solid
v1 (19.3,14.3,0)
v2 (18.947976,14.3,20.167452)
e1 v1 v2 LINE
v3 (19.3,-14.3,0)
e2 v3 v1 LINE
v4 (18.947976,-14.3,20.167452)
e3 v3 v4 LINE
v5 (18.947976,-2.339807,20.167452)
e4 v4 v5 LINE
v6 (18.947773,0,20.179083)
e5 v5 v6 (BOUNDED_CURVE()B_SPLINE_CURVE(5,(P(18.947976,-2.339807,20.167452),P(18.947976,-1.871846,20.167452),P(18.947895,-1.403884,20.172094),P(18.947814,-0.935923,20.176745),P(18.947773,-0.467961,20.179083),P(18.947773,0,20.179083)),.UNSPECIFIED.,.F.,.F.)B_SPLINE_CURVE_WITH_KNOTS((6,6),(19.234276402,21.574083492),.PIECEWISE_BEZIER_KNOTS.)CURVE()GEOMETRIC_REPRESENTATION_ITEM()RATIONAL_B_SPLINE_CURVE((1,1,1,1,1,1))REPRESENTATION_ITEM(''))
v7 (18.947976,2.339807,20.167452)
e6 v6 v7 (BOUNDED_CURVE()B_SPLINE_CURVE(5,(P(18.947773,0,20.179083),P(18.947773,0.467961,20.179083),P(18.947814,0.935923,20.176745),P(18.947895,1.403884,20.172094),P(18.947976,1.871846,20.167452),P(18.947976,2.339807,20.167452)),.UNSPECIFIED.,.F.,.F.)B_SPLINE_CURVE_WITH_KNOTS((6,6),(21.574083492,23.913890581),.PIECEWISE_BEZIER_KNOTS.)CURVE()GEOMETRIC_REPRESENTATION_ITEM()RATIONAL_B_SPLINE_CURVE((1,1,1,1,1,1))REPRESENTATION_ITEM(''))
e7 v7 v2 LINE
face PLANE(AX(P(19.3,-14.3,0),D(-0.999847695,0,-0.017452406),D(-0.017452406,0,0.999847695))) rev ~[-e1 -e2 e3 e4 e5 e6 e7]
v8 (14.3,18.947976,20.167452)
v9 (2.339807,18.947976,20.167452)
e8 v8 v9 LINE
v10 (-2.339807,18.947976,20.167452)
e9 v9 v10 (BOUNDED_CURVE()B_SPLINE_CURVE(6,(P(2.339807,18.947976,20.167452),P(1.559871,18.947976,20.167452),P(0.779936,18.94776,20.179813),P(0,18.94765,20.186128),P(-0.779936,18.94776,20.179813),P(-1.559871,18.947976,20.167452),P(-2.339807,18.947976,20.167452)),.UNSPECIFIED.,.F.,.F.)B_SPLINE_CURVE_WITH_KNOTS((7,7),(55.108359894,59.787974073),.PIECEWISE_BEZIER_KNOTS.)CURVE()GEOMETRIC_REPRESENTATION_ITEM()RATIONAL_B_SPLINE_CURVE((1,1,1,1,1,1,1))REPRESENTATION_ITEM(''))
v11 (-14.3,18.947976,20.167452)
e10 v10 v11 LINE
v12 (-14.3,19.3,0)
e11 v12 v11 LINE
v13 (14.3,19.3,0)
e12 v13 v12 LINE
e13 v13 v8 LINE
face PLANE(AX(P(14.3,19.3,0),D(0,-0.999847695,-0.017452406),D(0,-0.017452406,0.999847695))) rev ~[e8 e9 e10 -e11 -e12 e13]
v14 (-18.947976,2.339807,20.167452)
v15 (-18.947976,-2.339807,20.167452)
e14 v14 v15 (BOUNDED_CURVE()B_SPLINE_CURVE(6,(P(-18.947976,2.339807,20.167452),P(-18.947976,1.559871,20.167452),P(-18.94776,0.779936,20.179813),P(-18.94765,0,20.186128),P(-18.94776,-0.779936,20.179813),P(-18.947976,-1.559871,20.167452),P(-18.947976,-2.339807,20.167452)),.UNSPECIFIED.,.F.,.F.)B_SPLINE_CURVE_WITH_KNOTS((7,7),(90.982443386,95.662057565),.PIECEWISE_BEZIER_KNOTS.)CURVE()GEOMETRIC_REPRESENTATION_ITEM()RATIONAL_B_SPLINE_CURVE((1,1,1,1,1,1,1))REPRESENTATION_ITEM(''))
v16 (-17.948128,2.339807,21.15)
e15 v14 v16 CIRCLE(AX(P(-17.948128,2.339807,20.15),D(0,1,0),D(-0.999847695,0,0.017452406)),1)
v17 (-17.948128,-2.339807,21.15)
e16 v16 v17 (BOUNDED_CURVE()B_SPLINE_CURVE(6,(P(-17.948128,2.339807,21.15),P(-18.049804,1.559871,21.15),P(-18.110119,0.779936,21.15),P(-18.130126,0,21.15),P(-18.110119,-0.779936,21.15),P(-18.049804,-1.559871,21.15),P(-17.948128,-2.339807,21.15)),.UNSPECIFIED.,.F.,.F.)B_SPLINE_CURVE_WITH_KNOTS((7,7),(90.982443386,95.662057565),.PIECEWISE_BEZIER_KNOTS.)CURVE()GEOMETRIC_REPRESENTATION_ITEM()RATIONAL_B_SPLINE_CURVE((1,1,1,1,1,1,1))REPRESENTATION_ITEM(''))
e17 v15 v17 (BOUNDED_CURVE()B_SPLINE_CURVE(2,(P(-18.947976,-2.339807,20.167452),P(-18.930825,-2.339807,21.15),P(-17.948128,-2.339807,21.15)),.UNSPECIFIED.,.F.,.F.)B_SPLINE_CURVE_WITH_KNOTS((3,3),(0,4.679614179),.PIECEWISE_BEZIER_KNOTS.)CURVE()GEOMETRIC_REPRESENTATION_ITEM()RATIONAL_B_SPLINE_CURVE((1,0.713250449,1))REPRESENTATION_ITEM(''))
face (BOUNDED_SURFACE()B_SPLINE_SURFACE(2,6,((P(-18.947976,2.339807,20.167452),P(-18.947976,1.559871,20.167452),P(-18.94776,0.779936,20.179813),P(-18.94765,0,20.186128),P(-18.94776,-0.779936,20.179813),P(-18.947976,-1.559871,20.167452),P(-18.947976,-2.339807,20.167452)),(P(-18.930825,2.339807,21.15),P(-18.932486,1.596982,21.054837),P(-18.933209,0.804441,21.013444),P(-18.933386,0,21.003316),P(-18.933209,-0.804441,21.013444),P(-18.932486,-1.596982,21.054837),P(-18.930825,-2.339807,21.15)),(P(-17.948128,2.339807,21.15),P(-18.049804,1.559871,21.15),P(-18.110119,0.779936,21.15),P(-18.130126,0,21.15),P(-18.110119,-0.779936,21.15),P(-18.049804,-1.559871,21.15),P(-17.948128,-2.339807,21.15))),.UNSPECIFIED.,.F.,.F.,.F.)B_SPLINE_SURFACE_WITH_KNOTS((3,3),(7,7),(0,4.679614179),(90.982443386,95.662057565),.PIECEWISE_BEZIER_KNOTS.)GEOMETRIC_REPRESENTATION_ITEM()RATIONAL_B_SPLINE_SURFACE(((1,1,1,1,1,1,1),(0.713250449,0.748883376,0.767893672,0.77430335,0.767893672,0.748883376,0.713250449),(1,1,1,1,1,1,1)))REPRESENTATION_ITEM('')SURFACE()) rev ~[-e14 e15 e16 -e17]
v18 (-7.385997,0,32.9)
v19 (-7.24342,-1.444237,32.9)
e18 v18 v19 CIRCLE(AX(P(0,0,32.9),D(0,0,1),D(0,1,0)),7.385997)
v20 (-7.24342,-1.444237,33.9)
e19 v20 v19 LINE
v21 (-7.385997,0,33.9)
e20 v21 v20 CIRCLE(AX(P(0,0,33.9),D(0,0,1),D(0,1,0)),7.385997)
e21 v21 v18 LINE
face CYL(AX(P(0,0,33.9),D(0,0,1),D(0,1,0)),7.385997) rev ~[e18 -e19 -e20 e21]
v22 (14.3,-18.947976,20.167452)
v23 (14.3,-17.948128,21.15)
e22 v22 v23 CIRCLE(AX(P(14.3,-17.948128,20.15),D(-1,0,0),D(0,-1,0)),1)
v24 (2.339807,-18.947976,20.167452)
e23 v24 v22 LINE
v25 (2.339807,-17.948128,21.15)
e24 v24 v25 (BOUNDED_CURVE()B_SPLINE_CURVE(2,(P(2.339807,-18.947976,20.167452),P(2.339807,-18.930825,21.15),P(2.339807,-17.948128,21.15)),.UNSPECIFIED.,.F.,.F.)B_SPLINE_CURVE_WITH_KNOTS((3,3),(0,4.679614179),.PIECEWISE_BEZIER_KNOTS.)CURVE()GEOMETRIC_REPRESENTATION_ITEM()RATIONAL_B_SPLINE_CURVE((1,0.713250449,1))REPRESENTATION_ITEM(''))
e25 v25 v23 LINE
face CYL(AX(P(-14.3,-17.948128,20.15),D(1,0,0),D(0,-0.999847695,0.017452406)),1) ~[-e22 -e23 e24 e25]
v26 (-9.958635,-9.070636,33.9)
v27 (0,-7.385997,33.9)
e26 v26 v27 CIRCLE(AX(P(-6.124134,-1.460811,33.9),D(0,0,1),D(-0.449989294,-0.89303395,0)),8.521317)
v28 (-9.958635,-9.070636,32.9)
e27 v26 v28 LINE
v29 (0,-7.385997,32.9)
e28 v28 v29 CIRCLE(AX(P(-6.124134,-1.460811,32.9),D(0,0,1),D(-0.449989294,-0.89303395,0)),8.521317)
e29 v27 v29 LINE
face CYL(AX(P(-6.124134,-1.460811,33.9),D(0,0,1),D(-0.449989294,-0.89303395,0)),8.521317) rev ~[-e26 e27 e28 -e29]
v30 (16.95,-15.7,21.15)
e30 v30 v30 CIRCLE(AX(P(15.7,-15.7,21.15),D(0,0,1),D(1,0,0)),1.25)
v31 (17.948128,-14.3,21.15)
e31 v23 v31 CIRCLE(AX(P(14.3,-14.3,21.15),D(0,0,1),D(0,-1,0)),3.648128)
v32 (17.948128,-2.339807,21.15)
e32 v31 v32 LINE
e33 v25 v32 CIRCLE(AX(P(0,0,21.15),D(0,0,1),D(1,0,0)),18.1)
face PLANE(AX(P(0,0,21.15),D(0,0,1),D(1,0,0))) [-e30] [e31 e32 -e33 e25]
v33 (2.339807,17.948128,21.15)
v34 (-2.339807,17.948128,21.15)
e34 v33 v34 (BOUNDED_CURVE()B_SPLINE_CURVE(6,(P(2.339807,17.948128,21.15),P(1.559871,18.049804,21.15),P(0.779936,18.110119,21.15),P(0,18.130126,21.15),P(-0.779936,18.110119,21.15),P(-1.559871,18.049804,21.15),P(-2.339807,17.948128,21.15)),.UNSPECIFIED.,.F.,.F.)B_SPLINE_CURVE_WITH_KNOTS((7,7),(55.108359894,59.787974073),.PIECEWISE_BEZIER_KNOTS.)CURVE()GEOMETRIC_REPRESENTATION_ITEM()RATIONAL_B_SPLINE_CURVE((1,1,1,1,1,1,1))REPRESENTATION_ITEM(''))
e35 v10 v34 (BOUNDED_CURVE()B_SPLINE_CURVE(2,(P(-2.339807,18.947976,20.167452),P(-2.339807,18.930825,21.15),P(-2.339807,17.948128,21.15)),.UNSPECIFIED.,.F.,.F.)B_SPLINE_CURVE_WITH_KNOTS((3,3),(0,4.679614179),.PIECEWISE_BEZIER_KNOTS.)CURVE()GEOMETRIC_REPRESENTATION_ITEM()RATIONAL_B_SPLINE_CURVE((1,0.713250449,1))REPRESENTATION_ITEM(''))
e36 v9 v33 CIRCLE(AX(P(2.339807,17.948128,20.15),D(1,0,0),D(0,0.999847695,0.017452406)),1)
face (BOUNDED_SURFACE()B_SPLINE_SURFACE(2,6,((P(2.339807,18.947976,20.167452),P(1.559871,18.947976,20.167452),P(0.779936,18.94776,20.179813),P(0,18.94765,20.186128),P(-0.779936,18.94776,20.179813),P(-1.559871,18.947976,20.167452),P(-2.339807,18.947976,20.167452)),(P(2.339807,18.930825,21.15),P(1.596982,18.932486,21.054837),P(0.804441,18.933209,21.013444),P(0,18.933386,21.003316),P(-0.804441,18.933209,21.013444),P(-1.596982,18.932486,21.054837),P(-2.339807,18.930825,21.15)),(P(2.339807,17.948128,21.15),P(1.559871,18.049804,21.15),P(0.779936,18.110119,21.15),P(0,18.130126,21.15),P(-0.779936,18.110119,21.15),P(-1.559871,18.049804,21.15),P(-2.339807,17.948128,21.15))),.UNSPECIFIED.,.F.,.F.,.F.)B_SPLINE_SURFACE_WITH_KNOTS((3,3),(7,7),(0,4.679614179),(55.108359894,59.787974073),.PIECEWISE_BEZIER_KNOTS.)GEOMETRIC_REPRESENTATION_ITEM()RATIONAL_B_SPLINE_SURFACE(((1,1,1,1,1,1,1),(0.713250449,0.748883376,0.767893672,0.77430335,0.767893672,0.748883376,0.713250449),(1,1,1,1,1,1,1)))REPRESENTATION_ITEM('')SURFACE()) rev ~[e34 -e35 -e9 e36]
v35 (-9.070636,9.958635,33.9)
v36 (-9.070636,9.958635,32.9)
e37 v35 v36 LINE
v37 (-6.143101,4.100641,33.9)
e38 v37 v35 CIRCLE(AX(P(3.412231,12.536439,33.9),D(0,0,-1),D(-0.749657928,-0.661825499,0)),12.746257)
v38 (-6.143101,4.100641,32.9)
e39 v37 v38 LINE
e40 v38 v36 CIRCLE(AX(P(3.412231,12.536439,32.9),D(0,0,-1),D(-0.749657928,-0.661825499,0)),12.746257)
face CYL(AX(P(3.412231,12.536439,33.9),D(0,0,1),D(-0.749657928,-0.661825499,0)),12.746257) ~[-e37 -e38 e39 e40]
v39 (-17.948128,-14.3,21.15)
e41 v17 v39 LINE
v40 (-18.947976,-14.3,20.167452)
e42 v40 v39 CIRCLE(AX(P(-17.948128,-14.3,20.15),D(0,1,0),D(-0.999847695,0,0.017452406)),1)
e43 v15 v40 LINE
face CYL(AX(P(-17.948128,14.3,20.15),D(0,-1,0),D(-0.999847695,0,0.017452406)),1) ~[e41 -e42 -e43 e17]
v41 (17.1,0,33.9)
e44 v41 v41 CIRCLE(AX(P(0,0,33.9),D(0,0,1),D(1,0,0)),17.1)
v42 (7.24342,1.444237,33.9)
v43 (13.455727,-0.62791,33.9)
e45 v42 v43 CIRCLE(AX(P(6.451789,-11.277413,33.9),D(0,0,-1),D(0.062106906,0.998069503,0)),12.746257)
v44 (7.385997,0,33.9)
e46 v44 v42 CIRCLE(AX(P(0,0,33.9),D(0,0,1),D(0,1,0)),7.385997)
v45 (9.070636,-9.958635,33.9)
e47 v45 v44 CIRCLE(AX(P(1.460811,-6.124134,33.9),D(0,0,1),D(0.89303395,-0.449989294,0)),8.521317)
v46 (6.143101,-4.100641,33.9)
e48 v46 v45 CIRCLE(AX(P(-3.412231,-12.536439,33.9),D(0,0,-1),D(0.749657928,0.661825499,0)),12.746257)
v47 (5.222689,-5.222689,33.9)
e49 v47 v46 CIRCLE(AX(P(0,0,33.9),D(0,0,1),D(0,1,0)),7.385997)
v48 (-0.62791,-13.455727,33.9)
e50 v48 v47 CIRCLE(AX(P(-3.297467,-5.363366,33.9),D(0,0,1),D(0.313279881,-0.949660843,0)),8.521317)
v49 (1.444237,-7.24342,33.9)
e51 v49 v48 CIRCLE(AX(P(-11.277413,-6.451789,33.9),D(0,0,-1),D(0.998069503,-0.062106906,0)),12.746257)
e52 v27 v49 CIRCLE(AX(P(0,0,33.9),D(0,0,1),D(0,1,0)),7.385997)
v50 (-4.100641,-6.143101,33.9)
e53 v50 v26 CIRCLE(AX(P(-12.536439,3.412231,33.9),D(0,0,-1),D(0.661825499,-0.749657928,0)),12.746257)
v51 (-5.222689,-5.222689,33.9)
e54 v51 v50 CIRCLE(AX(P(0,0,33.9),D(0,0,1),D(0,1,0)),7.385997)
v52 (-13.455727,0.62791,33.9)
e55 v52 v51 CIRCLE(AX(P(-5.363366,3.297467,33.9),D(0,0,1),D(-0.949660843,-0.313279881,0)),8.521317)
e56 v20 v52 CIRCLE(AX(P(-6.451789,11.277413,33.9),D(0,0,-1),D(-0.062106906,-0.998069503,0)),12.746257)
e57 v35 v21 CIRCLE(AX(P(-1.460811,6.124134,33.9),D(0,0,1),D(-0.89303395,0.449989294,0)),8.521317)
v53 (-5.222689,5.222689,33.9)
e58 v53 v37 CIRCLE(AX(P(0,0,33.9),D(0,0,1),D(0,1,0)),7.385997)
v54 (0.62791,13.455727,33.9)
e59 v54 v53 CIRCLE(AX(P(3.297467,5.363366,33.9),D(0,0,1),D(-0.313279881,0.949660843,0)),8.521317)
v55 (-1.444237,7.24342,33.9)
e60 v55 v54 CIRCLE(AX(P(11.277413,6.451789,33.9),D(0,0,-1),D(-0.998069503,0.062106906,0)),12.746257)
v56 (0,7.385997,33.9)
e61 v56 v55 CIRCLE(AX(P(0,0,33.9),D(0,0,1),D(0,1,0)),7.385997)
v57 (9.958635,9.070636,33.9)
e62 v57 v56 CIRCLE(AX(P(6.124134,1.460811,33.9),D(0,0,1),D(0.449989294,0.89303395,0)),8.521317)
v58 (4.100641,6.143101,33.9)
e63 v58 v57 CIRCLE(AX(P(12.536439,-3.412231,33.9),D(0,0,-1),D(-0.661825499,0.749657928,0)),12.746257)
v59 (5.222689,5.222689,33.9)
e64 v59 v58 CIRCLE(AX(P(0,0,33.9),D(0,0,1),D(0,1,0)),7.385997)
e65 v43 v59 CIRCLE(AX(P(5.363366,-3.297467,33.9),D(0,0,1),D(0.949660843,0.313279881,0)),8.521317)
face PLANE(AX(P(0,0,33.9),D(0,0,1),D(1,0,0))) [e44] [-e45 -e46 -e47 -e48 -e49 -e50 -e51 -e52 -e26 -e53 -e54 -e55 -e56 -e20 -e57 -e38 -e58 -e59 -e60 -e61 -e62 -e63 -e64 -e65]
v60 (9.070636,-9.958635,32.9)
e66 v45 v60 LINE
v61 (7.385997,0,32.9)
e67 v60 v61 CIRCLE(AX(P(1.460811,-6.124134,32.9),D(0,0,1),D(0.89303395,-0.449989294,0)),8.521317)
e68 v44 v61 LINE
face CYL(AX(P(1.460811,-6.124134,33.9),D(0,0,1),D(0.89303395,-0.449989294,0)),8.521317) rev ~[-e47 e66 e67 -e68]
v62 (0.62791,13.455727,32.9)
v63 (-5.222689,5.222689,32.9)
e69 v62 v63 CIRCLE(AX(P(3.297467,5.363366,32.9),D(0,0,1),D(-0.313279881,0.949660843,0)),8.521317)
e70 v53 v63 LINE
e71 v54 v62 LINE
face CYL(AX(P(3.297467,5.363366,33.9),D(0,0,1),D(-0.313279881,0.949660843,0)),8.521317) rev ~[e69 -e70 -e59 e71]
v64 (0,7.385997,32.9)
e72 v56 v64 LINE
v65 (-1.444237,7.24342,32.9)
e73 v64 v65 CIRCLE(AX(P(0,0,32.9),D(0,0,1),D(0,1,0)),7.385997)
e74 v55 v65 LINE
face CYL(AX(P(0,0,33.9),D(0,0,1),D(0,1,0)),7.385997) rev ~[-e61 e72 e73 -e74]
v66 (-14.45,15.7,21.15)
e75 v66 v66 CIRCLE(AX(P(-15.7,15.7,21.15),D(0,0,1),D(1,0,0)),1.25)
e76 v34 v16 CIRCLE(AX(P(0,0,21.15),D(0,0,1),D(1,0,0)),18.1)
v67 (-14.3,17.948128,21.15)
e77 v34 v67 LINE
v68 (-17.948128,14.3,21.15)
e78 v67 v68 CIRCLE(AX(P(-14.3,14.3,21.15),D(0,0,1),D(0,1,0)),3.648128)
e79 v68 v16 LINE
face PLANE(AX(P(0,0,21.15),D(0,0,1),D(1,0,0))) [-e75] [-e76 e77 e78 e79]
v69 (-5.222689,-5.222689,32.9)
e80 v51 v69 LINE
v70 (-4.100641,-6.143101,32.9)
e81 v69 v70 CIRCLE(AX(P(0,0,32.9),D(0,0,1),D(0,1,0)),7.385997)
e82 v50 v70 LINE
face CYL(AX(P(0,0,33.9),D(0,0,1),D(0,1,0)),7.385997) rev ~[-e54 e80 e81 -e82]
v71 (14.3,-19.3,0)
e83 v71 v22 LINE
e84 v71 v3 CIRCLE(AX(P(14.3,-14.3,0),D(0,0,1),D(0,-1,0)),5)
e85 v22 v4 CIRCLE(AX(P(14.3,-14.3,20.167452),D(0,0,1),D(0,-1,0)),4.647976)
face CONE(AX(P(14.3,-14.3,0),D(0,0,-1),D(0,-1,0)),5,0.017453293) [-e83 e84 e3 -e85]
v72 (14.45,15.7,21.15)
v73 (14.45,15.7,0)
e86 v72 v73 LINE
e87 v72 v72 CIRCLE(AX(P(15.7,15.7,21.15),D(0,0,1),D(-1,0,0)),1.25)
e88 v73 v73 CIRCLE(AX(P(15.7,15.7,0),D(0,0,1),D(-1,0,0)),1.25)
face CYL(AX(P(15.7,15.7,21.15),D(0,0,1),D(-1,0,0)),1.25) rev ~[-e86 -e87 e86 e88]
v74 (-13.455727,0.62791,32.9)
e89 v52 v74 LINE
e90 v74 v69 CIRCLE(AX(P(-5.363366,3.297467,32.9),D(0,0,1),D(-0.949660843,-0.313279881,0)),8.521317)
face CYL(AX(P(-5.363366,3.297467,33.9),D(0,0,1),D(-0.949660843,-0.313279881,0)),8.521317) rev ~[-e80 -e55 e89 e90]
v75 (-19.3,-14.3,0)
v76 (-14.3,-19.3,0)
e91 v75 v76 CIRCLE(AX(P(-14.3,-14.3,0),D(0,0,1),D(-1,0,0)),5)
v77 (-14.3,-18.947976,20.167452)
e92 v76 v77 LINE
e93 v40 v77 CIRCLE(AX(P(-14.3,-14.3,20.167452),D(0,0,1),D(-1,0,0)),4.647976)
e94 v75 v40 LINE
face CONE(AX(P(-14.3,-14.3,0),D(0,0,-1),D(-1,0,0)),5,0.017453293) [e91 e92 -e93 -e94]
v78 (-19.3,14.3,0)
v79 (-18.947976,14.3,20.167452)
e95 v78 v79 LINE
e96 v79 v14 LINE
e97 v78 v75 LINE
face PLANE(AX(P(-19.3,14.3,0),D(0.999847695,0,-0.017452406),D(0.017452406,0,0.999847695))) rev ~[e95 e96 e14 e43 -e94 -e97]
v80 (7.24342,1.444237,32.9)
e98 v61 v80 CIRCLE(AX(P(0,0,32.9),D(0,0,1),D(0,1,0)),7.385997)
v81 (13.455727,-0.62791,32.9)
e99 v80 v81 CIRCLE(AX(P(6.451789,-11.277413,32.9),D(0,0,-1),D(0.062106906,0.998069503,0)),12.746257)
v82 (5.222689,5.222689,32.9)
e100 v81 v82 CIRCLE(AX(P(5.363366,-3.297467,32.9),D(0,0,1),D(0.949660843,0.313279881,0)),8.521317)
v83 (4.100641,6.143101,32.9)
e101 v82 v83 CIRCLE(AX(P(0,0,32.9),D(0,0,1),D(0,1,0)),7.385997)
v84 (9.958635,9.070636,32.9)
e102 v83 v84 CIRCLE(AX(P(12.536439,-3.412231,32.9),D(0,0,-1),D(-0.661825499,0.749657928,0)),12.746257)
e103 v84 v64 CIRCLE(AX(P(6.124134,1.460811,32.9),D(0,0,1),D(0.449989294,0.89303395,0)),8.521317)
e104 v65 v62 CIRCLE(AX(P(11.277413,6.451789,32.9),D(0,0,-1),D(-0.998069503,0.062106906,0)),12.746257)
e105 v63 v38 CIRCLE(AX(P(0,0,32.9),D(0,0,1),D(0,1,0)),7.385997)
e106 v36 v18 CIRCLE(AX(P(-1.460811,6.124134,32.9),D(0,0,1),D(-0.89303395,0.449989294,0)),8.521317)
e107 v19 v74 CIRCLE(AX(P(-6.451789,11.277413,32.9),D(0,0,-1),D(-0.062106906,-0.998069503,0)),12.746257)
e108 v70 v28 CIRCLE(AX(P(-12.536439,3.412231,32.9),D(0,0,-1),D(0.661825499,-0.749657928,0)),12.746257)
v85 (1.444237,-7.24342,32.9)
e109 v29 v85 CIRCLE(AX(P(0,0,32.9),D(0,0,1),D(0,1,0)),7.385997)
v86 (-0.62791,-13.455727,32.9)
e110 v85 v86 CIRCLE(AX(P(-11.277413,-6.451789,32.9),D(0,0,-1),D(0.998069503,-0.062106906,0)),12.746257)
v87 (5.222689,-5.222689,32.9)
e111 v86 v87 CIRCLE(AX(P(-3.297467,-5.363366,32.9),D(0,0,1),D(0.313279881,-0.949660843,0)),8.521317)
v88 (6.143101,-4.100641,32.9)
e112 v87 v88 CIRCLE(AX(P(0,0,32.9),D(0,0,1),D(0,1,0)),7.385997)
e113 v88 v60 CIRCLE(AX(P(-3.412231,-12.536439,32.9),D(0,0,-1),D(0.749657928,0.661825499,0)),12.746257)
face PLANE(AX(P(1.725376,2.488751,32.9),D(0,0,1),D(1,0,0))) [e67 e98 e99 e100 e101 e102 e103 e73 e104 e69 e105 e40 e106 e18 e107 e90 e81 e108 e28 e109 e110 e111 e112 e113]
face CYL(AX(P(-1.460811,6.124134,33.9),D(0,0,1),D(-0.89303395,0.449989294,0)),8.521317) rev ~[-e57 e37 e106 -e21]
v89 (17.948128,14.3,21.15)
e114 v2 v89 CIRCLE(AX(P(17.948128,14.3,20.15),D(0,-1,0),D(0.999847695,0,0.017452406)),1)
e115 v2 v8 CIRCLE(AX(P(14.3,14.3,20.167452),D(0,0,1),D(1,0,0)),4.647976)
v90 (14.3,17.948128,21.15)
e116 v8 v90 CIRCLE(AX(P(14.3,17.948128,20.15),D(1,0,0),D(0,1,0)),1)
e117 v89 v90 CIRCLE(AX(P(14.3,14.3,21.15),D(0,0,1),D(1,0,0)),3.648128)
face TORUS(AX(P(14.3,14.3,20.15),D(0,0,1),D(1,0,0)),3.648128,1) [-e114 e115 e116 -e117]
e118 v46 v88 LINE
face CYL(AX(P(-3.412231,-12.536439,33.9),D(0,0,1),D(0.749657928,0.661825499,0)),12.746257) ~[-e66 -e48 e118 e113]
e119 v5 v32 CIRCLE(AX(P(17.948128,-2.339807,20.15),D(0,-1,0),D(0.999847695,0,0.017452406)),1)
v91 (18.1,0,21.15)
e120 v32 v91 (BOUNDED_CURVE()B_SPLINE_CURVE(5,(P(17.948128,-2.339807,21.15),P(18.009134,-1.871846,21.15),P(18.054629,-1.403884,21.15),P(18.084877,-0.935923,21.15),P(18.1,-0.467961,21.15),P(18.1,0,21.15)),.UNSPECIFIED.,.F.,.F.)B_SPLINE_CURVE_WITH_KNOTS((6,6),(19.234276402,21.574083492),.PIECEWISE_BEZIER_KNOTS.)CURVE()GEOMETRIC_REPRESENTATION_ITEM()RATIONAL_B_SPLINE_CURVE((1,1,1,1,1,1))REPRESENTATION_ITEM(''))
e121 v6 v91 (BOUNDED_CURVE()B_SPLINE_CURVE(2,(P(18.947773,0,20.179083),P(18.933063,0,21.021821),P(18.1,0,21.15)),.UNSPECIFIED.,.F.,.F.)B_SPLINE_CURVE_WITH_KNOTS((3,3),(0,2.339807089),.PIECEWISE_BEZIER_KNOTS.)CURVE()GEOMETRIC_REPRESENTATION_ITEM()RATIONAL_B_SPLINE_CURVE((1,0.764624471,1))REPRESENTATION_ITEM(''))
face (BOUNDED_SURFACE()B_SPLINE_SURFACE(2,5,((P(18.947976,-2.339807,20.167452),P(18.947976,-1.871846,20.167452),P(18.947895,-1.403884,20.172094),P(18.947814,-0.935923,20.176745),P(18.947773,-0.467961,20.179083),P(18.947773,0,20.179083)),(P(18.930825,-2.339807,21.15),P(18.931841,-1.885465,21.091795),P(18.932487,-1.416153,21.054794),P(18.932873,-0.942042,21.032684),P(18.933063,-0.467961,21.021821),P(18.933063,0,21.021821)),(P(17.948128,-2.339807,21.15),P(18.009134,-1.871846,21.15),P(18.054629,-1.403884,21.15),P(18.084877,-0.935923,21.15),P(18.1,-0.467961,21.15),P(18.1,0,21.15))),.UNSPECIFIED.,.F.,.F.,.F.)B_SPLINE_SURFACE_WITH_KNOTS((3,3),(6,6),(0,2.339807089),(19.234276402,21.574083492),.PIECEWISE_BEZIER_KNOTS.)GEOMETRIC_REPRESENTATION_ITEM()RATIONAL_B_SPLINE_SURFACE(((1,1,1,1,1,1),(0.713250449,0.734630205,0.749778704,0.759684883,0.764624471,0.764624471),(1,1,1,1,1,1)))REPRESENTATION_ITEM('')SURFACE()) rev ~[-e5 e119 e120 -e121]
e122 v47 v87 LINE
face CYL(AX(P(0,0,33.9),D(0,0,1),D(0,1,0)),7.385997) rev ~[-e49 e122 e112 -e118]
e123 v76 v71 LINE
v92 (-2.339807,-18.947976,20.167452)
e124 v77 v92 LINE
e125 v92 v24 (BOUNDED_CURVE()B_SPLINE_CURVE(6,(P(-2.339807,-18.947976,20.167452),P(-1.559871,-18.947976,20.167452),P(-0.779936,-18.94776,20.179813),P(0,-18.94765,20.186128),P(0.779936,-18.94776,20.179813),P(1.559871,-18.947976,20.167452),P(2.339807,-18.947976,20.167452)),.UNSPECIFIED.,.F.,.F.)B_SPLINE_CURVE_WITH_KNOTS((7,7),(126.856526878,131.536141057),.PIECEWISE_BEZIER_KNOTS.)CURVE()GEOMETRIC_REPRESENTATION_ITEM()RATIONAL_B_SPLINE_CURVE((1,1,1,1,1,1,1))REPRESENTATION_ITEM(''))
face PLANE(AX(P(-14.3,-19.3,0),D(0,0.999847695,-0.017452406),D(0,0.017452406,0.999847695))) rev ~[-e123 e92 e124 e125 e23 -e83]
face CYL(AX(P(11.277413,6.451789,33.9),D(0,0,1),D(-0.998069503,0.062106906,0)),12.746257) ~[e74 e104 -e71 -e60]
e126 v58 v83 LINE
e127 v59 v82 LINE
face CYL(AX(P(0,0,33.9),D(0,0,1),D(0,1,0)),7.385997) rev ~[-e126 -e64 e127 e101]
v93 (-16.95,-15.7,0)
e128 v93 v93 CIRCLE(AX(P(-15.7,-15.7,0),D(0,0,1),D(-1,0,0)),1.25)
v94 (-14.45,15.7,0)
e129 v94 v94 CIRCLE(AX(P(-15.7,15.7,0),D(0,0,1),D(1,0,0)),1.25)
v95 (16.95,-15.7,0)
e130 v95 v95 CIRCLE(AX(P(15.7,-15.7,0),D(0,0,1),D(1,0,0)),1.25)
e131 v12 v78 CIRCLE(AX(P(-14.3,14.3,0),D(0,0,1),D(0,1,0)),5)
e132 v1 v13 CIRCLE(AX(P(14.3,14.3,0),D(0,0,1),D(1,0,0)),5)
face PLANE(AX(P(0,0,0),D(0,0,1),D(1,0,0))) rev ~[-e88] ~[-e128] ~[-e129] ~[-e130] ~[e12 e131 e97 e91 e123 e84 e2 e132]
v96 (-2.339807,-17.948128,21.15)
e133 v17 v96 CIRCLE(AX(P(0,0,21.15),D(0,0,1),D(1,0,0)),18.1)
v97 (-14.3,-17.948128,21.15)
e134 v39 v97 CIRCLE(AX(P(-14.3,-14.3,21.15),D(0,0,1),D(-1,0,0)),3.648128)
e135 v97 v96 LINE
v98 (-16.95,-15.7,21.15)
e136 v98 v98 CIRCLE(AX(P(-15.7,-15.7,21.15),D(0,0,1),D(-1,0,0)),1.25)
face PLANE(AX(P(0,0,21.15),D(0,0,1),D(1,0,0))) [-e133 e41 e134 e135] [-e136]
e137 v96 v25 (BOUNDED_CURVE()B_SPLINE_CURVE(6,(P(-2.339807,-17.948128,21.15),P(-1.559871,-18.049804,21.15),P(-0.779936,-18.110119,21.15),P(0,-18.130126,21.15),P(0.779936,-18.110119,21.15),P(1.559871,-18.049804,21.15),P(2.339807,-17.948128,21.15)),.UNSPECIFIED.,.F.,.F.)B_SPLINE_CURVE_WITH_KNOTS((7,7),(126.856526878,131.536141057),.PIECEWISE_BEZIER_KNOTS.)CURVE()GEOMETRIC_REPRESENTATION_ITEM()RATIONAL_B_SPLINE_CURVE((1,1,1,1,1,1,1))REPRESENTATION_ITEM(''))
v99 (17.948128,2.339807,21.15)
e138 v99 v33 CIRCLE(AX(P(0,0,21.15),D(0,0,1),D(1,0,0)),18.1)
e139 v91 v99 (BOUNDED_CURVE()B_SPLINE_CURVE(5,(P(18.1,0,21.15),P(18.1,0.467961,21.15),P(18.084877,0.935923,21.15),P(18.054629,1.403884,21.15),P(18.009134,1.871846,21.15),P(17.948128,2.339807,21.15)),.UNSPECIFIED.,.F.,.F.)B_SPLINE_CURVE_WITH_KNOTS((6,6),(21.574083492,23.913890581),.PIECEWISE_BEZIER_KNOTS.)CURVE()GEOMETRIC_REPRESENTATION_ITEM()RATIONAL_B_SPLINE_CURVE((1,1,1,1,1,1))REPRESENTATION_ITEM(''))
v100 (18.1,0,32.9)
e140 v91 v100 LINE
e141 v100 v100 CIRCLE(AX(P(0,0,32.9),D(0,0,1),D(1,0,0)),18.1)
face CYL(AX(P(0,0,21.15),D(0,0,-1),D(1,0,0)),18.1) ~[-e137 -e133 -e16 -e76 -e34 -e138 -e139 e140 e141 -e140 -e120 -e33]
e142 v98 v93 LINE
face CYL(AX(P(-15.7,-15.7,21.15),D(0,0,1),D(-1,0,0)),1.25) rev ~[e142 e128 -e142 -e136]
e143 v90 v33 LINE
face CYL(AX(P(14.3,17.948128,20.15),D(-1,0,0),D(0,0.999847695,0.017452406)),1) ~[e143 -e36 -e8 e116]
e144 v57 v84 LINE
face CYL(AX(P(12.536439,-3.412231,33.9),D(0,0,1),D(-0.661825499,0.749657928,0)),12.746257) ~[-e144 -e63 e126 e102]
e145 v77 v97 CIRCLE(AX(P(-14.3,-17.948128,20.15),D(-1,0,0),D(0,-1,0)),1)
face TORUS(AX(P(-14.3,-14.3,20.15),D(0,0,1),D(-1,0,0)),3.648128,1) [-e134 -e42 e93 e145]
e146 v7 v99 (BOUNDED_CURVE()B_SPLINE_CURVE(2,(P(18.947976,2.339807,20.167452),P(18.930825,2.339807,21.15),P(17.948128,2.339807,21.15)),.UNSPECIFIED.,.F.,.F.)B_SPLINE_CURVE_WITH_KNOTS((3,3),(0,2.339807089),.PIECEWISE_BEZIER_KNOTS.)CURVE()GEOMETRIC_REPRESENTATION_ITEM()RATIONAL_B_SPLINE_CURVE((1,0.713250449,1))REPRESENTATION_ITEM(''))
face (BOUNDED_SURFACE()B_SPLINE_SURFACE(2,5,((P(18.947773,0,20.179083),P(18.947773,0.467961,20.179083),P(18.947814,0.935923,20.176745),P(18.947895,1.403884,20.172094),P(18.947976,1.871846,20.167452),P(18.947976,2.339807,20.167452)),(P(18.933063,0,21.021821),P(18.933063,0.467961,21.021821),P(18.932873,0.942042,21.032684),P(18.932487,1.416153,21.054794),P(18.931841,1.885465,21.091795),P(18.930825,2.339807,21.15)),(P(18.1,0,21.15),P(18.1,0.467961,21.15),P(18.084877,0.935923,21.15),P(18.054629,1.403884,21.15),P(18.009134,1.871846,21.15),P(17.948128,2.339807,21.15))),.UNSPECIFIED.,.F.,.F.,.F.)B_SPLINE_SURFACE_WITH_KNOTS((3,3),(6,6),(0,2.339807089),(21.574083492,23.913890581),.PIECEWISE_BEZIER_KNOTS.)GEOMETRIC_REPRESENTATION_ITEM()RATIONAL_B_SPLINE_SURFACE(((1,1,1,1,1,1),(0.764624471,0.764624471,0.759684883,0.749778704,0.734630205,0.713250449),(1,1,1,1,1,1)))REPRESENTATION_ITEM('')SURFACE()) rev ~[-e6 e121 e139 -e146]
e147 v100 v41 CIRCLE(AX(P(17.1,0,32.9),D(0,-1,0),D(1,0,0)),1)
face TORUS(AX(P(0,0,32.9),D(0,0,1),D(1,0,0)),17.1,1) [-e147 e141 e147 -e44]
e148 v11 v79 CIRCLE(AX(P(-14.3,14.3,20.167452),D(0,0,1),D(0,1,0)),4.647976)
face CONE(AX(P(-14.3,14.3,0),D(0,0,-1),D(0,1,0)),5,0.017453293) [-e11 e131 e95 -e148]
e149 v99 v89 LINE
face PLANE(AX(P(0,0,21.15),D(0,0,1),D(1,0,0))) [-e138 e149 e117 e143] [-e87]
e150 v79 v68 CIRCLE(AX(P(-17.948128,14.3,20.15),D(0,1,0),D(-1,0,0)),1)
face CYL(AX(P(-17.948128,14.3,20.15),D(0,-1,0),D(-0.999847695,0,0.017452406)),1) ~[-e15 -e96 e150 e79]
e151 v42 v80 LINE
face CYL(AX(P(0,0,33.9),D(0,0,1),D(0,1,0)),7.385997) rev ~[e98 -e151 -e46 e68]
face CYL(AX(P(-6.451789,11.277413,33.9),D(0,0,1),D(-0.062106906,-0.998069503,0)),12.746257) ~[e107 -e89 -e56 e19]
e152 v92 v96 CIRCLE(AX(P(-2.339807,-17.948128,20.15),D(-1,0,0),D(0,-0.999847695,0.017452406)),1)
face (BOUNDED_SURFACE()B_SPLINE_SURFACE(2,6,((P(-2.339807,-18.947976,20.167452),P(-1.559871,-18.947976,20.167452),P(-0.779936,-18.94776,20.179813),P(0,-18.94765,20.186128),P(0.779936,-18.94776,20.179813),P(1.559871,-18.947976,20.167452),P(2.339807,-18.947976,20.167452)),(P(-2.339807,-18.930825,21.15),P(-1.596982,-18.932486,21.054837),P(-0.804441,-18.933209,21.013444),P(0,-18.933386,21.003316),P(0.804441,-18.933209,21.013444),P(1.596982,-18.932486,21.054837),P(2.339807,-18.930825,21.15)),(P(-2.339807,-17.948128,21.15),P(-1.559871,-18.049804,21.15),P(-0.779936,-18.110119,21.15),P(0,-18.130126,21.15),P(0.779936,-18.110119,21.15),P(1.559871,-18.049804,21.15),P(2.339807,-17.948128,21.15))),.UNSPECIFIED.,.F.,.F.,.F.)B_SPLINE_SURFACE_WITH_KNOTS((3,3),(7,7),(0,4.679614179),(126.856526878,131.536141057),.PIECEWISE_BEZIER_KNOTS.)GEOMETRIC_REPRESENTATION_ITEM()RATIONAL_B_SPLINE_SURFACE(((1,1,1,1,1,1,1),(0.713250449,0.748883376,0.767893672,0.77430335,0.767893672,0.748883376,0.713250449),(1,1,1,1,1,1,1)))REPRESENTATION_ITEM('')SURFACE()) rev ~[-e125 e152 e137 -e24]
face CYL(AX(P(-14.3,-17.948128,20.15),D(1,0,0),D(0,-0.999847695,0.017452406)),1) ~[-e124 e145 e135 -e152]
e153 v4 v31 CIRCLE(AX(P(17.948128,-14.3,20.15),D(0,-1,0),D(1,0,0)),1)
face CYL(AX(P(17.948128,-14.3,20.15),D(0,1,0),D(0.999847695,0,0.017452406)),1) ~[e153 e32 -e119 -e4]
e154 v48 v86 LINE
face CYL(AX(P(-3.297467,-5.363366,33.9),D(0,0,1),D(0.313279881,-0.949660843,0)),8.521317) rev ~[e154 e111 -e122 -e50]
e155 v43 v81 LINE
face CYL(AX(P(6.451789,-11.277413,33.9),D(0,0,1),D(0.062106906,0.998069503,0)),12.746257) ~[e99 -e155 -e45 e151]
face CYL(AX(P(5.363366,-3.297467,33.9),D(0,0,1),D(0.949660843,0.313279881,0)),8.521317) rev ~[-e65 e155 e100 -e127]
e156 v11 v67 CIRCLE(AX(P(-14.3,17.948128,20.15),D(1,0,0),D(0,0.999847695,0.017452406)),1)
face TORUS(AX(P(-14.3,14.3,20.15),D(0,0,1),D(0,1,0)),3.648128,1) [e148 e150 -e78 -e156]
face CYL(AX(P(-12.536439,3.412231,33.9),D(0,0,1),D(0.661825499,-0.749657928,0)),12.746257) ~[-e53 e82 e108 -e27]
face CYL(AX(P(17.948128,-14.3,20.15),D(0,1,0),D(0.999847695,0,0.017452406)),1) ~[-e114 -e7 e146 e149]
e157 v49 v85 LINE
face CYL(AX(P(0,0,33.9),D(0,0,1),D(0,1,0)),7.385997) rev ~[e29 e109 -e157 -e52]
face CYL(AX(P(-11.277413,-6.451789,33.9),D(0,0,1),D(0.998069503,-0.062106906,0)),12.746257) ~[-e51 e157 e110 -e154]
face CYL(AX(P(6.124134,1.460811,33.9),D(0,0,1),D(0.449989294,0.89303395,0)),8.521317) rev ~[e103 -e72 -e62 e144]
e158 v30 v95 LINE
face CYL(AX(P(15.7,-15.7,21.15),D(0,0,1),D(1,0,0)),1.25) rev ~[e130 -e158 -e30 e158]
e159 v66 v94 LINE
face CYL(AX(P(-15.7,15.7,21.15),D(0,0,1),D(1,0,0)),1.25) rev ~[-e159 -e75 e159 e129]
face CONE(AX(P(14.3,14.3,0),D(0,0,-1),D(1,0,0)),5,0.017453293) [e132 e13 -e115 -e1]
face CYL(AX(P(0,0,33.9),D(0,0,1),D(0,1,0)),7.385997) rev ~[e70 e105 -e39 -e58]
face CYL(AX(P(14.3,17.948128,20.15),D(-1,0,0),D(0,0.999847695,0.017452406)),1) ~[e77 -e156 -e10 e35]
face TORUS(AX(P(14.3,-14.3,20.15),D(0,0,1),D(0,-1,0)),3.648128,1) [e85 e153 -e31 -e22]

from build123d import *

# Parameters (mm, degrees)
BOSS_EXTRUDE1_DEPTH = 21.15
BOSS_EXTRUDE1_TAPER = 1
SKETCH2_R           = 18.1
BOSS_EXTRUDE2_DEPTH = 12.75
SKETCH3_R           = 1.25
CUT_EXTRUDE1_DEPTH  = 35.529733564
FILLET1_R           = 1
CUT_EXTRUDE2_DEPTH  = 1
CIRPATTERN1_COUNT   = 8


with BuildPart() as part:
    # Sketch1 → Boss-Extrude1 (new body)
    with BuildSketch(Plane.XY):
        with BuildLine():
            ThreePointArc((-14.3, 19.3), (-17.835533906, 17.835533906), (-19.3, 14.3))
            Line((-19.3, 14.3), (-19.3, -14.3))
            ThreePointArc((-19.3, -14.3), (-17.835533906, -17.835533906), (-14.3, -19.3))
            Line((-14.3, -19.3), (14.3, -19.3))
            ThreePointArc((14.3, -19.3), (17.835533906, -17.835533906), (19.3, -14.3))
            Line((19.3, -14.3), (19.3, 14.3))
            ThreePointArc((19.3, 14.3), (17.835533906, 17.835533906), (14.3, 19.3))
            Line((14.3, 19.3), (-14.3, 19.3))
        make_face()
    extrude(amount=BOSS_EXTRUDE1_DEPTH, taper=BOSS_EXTRUDE1_TAPER)

    # Sketch2 → Boss-Extrude2 (add)
    with BuildSketch(Plane.XY.offset(21.15)):
        Circle(SKETCH2_R)
    extrude(amount=BOSS_EXTRUDE2_DEPTH)

    # Sketch3 → Cut-Extrude1 (cut, through all)
    with BuildSketch(Plane.XY.offset(21.15)):
        with Locations((-15.7, 15.7)):
            Circle(SKETCH3_R)
        with Locations(Location((15.7, 15.7, 0), (0, 0, 180))):
            Circle(SKETCH3_R)
        with Locations((15.7, -15.7)):
            Circle(SKETCH3_R)
        with Locations(Location((-15.7, -15.7, 0), (0, 0, 180))):
            Circle(SKETCH3_R)
    extrude(amount=-CUT_EXTRUDE1_DEPTH, mode=Mode.SUBTRACT)

    # Fillet1
    fillet1_edges = [part.edges().sort_by_distance(p)[0] for p in [
        (17.574488026, -17.574488026, 21.15),
        (18.930825377, 0, 21.15),
        (17.574488026, 17.574488026, 21.15),
        (0, 18.930825377, 21.15),
        (-17.574488026, 17.574488026, 21.15),
        (-18.1, 0, 33.9),
        (-18.930825377, 0, 21.15),
        (-17.574488026, -17.574488026, 21.15),
        (0, -18.930825377, 21.15),
    ]]
    fillet(fillet1_edges, radius=FILLET1_R)

    # Sketch4 → Cut-Extrude2 (cut)
    with BuildSketch(Plane.XY.offset(33.9)):
        with BuildLine():
            ThreePointArc((0, 7.385996988), (-2.142431463, -7.068446712), (4.100641433, 6.143101118))
            ThreePointArc((4.100641433, 6.143101118), (6.838415629, 7.989504917), (9.958635041, 9.070636436))
            ThreePointArc((9.958635041, 9.070636436), (4.702829161, 9.862759424), (0, 7.385996988))
        make_face()
    cut_extrude2 = extrude(amount=-CUT_EXTRUDE2_DEPTH, mode=Mode.SUBTRACT)

    # CirPattern1: Cut-Extrude2 ×8 about axis
    cirpattern1_axis = Axis((0, 0, 0), (0, 0, 1))
    for i in range(1, CIRPATTERN1_COUNT):
        add(cut_extrude2.rotate(cirpattern1_axis, i * 360 / CIRPATTERN1_COUNT), mode=Mode.SUBTRACT)


solid = part.part
